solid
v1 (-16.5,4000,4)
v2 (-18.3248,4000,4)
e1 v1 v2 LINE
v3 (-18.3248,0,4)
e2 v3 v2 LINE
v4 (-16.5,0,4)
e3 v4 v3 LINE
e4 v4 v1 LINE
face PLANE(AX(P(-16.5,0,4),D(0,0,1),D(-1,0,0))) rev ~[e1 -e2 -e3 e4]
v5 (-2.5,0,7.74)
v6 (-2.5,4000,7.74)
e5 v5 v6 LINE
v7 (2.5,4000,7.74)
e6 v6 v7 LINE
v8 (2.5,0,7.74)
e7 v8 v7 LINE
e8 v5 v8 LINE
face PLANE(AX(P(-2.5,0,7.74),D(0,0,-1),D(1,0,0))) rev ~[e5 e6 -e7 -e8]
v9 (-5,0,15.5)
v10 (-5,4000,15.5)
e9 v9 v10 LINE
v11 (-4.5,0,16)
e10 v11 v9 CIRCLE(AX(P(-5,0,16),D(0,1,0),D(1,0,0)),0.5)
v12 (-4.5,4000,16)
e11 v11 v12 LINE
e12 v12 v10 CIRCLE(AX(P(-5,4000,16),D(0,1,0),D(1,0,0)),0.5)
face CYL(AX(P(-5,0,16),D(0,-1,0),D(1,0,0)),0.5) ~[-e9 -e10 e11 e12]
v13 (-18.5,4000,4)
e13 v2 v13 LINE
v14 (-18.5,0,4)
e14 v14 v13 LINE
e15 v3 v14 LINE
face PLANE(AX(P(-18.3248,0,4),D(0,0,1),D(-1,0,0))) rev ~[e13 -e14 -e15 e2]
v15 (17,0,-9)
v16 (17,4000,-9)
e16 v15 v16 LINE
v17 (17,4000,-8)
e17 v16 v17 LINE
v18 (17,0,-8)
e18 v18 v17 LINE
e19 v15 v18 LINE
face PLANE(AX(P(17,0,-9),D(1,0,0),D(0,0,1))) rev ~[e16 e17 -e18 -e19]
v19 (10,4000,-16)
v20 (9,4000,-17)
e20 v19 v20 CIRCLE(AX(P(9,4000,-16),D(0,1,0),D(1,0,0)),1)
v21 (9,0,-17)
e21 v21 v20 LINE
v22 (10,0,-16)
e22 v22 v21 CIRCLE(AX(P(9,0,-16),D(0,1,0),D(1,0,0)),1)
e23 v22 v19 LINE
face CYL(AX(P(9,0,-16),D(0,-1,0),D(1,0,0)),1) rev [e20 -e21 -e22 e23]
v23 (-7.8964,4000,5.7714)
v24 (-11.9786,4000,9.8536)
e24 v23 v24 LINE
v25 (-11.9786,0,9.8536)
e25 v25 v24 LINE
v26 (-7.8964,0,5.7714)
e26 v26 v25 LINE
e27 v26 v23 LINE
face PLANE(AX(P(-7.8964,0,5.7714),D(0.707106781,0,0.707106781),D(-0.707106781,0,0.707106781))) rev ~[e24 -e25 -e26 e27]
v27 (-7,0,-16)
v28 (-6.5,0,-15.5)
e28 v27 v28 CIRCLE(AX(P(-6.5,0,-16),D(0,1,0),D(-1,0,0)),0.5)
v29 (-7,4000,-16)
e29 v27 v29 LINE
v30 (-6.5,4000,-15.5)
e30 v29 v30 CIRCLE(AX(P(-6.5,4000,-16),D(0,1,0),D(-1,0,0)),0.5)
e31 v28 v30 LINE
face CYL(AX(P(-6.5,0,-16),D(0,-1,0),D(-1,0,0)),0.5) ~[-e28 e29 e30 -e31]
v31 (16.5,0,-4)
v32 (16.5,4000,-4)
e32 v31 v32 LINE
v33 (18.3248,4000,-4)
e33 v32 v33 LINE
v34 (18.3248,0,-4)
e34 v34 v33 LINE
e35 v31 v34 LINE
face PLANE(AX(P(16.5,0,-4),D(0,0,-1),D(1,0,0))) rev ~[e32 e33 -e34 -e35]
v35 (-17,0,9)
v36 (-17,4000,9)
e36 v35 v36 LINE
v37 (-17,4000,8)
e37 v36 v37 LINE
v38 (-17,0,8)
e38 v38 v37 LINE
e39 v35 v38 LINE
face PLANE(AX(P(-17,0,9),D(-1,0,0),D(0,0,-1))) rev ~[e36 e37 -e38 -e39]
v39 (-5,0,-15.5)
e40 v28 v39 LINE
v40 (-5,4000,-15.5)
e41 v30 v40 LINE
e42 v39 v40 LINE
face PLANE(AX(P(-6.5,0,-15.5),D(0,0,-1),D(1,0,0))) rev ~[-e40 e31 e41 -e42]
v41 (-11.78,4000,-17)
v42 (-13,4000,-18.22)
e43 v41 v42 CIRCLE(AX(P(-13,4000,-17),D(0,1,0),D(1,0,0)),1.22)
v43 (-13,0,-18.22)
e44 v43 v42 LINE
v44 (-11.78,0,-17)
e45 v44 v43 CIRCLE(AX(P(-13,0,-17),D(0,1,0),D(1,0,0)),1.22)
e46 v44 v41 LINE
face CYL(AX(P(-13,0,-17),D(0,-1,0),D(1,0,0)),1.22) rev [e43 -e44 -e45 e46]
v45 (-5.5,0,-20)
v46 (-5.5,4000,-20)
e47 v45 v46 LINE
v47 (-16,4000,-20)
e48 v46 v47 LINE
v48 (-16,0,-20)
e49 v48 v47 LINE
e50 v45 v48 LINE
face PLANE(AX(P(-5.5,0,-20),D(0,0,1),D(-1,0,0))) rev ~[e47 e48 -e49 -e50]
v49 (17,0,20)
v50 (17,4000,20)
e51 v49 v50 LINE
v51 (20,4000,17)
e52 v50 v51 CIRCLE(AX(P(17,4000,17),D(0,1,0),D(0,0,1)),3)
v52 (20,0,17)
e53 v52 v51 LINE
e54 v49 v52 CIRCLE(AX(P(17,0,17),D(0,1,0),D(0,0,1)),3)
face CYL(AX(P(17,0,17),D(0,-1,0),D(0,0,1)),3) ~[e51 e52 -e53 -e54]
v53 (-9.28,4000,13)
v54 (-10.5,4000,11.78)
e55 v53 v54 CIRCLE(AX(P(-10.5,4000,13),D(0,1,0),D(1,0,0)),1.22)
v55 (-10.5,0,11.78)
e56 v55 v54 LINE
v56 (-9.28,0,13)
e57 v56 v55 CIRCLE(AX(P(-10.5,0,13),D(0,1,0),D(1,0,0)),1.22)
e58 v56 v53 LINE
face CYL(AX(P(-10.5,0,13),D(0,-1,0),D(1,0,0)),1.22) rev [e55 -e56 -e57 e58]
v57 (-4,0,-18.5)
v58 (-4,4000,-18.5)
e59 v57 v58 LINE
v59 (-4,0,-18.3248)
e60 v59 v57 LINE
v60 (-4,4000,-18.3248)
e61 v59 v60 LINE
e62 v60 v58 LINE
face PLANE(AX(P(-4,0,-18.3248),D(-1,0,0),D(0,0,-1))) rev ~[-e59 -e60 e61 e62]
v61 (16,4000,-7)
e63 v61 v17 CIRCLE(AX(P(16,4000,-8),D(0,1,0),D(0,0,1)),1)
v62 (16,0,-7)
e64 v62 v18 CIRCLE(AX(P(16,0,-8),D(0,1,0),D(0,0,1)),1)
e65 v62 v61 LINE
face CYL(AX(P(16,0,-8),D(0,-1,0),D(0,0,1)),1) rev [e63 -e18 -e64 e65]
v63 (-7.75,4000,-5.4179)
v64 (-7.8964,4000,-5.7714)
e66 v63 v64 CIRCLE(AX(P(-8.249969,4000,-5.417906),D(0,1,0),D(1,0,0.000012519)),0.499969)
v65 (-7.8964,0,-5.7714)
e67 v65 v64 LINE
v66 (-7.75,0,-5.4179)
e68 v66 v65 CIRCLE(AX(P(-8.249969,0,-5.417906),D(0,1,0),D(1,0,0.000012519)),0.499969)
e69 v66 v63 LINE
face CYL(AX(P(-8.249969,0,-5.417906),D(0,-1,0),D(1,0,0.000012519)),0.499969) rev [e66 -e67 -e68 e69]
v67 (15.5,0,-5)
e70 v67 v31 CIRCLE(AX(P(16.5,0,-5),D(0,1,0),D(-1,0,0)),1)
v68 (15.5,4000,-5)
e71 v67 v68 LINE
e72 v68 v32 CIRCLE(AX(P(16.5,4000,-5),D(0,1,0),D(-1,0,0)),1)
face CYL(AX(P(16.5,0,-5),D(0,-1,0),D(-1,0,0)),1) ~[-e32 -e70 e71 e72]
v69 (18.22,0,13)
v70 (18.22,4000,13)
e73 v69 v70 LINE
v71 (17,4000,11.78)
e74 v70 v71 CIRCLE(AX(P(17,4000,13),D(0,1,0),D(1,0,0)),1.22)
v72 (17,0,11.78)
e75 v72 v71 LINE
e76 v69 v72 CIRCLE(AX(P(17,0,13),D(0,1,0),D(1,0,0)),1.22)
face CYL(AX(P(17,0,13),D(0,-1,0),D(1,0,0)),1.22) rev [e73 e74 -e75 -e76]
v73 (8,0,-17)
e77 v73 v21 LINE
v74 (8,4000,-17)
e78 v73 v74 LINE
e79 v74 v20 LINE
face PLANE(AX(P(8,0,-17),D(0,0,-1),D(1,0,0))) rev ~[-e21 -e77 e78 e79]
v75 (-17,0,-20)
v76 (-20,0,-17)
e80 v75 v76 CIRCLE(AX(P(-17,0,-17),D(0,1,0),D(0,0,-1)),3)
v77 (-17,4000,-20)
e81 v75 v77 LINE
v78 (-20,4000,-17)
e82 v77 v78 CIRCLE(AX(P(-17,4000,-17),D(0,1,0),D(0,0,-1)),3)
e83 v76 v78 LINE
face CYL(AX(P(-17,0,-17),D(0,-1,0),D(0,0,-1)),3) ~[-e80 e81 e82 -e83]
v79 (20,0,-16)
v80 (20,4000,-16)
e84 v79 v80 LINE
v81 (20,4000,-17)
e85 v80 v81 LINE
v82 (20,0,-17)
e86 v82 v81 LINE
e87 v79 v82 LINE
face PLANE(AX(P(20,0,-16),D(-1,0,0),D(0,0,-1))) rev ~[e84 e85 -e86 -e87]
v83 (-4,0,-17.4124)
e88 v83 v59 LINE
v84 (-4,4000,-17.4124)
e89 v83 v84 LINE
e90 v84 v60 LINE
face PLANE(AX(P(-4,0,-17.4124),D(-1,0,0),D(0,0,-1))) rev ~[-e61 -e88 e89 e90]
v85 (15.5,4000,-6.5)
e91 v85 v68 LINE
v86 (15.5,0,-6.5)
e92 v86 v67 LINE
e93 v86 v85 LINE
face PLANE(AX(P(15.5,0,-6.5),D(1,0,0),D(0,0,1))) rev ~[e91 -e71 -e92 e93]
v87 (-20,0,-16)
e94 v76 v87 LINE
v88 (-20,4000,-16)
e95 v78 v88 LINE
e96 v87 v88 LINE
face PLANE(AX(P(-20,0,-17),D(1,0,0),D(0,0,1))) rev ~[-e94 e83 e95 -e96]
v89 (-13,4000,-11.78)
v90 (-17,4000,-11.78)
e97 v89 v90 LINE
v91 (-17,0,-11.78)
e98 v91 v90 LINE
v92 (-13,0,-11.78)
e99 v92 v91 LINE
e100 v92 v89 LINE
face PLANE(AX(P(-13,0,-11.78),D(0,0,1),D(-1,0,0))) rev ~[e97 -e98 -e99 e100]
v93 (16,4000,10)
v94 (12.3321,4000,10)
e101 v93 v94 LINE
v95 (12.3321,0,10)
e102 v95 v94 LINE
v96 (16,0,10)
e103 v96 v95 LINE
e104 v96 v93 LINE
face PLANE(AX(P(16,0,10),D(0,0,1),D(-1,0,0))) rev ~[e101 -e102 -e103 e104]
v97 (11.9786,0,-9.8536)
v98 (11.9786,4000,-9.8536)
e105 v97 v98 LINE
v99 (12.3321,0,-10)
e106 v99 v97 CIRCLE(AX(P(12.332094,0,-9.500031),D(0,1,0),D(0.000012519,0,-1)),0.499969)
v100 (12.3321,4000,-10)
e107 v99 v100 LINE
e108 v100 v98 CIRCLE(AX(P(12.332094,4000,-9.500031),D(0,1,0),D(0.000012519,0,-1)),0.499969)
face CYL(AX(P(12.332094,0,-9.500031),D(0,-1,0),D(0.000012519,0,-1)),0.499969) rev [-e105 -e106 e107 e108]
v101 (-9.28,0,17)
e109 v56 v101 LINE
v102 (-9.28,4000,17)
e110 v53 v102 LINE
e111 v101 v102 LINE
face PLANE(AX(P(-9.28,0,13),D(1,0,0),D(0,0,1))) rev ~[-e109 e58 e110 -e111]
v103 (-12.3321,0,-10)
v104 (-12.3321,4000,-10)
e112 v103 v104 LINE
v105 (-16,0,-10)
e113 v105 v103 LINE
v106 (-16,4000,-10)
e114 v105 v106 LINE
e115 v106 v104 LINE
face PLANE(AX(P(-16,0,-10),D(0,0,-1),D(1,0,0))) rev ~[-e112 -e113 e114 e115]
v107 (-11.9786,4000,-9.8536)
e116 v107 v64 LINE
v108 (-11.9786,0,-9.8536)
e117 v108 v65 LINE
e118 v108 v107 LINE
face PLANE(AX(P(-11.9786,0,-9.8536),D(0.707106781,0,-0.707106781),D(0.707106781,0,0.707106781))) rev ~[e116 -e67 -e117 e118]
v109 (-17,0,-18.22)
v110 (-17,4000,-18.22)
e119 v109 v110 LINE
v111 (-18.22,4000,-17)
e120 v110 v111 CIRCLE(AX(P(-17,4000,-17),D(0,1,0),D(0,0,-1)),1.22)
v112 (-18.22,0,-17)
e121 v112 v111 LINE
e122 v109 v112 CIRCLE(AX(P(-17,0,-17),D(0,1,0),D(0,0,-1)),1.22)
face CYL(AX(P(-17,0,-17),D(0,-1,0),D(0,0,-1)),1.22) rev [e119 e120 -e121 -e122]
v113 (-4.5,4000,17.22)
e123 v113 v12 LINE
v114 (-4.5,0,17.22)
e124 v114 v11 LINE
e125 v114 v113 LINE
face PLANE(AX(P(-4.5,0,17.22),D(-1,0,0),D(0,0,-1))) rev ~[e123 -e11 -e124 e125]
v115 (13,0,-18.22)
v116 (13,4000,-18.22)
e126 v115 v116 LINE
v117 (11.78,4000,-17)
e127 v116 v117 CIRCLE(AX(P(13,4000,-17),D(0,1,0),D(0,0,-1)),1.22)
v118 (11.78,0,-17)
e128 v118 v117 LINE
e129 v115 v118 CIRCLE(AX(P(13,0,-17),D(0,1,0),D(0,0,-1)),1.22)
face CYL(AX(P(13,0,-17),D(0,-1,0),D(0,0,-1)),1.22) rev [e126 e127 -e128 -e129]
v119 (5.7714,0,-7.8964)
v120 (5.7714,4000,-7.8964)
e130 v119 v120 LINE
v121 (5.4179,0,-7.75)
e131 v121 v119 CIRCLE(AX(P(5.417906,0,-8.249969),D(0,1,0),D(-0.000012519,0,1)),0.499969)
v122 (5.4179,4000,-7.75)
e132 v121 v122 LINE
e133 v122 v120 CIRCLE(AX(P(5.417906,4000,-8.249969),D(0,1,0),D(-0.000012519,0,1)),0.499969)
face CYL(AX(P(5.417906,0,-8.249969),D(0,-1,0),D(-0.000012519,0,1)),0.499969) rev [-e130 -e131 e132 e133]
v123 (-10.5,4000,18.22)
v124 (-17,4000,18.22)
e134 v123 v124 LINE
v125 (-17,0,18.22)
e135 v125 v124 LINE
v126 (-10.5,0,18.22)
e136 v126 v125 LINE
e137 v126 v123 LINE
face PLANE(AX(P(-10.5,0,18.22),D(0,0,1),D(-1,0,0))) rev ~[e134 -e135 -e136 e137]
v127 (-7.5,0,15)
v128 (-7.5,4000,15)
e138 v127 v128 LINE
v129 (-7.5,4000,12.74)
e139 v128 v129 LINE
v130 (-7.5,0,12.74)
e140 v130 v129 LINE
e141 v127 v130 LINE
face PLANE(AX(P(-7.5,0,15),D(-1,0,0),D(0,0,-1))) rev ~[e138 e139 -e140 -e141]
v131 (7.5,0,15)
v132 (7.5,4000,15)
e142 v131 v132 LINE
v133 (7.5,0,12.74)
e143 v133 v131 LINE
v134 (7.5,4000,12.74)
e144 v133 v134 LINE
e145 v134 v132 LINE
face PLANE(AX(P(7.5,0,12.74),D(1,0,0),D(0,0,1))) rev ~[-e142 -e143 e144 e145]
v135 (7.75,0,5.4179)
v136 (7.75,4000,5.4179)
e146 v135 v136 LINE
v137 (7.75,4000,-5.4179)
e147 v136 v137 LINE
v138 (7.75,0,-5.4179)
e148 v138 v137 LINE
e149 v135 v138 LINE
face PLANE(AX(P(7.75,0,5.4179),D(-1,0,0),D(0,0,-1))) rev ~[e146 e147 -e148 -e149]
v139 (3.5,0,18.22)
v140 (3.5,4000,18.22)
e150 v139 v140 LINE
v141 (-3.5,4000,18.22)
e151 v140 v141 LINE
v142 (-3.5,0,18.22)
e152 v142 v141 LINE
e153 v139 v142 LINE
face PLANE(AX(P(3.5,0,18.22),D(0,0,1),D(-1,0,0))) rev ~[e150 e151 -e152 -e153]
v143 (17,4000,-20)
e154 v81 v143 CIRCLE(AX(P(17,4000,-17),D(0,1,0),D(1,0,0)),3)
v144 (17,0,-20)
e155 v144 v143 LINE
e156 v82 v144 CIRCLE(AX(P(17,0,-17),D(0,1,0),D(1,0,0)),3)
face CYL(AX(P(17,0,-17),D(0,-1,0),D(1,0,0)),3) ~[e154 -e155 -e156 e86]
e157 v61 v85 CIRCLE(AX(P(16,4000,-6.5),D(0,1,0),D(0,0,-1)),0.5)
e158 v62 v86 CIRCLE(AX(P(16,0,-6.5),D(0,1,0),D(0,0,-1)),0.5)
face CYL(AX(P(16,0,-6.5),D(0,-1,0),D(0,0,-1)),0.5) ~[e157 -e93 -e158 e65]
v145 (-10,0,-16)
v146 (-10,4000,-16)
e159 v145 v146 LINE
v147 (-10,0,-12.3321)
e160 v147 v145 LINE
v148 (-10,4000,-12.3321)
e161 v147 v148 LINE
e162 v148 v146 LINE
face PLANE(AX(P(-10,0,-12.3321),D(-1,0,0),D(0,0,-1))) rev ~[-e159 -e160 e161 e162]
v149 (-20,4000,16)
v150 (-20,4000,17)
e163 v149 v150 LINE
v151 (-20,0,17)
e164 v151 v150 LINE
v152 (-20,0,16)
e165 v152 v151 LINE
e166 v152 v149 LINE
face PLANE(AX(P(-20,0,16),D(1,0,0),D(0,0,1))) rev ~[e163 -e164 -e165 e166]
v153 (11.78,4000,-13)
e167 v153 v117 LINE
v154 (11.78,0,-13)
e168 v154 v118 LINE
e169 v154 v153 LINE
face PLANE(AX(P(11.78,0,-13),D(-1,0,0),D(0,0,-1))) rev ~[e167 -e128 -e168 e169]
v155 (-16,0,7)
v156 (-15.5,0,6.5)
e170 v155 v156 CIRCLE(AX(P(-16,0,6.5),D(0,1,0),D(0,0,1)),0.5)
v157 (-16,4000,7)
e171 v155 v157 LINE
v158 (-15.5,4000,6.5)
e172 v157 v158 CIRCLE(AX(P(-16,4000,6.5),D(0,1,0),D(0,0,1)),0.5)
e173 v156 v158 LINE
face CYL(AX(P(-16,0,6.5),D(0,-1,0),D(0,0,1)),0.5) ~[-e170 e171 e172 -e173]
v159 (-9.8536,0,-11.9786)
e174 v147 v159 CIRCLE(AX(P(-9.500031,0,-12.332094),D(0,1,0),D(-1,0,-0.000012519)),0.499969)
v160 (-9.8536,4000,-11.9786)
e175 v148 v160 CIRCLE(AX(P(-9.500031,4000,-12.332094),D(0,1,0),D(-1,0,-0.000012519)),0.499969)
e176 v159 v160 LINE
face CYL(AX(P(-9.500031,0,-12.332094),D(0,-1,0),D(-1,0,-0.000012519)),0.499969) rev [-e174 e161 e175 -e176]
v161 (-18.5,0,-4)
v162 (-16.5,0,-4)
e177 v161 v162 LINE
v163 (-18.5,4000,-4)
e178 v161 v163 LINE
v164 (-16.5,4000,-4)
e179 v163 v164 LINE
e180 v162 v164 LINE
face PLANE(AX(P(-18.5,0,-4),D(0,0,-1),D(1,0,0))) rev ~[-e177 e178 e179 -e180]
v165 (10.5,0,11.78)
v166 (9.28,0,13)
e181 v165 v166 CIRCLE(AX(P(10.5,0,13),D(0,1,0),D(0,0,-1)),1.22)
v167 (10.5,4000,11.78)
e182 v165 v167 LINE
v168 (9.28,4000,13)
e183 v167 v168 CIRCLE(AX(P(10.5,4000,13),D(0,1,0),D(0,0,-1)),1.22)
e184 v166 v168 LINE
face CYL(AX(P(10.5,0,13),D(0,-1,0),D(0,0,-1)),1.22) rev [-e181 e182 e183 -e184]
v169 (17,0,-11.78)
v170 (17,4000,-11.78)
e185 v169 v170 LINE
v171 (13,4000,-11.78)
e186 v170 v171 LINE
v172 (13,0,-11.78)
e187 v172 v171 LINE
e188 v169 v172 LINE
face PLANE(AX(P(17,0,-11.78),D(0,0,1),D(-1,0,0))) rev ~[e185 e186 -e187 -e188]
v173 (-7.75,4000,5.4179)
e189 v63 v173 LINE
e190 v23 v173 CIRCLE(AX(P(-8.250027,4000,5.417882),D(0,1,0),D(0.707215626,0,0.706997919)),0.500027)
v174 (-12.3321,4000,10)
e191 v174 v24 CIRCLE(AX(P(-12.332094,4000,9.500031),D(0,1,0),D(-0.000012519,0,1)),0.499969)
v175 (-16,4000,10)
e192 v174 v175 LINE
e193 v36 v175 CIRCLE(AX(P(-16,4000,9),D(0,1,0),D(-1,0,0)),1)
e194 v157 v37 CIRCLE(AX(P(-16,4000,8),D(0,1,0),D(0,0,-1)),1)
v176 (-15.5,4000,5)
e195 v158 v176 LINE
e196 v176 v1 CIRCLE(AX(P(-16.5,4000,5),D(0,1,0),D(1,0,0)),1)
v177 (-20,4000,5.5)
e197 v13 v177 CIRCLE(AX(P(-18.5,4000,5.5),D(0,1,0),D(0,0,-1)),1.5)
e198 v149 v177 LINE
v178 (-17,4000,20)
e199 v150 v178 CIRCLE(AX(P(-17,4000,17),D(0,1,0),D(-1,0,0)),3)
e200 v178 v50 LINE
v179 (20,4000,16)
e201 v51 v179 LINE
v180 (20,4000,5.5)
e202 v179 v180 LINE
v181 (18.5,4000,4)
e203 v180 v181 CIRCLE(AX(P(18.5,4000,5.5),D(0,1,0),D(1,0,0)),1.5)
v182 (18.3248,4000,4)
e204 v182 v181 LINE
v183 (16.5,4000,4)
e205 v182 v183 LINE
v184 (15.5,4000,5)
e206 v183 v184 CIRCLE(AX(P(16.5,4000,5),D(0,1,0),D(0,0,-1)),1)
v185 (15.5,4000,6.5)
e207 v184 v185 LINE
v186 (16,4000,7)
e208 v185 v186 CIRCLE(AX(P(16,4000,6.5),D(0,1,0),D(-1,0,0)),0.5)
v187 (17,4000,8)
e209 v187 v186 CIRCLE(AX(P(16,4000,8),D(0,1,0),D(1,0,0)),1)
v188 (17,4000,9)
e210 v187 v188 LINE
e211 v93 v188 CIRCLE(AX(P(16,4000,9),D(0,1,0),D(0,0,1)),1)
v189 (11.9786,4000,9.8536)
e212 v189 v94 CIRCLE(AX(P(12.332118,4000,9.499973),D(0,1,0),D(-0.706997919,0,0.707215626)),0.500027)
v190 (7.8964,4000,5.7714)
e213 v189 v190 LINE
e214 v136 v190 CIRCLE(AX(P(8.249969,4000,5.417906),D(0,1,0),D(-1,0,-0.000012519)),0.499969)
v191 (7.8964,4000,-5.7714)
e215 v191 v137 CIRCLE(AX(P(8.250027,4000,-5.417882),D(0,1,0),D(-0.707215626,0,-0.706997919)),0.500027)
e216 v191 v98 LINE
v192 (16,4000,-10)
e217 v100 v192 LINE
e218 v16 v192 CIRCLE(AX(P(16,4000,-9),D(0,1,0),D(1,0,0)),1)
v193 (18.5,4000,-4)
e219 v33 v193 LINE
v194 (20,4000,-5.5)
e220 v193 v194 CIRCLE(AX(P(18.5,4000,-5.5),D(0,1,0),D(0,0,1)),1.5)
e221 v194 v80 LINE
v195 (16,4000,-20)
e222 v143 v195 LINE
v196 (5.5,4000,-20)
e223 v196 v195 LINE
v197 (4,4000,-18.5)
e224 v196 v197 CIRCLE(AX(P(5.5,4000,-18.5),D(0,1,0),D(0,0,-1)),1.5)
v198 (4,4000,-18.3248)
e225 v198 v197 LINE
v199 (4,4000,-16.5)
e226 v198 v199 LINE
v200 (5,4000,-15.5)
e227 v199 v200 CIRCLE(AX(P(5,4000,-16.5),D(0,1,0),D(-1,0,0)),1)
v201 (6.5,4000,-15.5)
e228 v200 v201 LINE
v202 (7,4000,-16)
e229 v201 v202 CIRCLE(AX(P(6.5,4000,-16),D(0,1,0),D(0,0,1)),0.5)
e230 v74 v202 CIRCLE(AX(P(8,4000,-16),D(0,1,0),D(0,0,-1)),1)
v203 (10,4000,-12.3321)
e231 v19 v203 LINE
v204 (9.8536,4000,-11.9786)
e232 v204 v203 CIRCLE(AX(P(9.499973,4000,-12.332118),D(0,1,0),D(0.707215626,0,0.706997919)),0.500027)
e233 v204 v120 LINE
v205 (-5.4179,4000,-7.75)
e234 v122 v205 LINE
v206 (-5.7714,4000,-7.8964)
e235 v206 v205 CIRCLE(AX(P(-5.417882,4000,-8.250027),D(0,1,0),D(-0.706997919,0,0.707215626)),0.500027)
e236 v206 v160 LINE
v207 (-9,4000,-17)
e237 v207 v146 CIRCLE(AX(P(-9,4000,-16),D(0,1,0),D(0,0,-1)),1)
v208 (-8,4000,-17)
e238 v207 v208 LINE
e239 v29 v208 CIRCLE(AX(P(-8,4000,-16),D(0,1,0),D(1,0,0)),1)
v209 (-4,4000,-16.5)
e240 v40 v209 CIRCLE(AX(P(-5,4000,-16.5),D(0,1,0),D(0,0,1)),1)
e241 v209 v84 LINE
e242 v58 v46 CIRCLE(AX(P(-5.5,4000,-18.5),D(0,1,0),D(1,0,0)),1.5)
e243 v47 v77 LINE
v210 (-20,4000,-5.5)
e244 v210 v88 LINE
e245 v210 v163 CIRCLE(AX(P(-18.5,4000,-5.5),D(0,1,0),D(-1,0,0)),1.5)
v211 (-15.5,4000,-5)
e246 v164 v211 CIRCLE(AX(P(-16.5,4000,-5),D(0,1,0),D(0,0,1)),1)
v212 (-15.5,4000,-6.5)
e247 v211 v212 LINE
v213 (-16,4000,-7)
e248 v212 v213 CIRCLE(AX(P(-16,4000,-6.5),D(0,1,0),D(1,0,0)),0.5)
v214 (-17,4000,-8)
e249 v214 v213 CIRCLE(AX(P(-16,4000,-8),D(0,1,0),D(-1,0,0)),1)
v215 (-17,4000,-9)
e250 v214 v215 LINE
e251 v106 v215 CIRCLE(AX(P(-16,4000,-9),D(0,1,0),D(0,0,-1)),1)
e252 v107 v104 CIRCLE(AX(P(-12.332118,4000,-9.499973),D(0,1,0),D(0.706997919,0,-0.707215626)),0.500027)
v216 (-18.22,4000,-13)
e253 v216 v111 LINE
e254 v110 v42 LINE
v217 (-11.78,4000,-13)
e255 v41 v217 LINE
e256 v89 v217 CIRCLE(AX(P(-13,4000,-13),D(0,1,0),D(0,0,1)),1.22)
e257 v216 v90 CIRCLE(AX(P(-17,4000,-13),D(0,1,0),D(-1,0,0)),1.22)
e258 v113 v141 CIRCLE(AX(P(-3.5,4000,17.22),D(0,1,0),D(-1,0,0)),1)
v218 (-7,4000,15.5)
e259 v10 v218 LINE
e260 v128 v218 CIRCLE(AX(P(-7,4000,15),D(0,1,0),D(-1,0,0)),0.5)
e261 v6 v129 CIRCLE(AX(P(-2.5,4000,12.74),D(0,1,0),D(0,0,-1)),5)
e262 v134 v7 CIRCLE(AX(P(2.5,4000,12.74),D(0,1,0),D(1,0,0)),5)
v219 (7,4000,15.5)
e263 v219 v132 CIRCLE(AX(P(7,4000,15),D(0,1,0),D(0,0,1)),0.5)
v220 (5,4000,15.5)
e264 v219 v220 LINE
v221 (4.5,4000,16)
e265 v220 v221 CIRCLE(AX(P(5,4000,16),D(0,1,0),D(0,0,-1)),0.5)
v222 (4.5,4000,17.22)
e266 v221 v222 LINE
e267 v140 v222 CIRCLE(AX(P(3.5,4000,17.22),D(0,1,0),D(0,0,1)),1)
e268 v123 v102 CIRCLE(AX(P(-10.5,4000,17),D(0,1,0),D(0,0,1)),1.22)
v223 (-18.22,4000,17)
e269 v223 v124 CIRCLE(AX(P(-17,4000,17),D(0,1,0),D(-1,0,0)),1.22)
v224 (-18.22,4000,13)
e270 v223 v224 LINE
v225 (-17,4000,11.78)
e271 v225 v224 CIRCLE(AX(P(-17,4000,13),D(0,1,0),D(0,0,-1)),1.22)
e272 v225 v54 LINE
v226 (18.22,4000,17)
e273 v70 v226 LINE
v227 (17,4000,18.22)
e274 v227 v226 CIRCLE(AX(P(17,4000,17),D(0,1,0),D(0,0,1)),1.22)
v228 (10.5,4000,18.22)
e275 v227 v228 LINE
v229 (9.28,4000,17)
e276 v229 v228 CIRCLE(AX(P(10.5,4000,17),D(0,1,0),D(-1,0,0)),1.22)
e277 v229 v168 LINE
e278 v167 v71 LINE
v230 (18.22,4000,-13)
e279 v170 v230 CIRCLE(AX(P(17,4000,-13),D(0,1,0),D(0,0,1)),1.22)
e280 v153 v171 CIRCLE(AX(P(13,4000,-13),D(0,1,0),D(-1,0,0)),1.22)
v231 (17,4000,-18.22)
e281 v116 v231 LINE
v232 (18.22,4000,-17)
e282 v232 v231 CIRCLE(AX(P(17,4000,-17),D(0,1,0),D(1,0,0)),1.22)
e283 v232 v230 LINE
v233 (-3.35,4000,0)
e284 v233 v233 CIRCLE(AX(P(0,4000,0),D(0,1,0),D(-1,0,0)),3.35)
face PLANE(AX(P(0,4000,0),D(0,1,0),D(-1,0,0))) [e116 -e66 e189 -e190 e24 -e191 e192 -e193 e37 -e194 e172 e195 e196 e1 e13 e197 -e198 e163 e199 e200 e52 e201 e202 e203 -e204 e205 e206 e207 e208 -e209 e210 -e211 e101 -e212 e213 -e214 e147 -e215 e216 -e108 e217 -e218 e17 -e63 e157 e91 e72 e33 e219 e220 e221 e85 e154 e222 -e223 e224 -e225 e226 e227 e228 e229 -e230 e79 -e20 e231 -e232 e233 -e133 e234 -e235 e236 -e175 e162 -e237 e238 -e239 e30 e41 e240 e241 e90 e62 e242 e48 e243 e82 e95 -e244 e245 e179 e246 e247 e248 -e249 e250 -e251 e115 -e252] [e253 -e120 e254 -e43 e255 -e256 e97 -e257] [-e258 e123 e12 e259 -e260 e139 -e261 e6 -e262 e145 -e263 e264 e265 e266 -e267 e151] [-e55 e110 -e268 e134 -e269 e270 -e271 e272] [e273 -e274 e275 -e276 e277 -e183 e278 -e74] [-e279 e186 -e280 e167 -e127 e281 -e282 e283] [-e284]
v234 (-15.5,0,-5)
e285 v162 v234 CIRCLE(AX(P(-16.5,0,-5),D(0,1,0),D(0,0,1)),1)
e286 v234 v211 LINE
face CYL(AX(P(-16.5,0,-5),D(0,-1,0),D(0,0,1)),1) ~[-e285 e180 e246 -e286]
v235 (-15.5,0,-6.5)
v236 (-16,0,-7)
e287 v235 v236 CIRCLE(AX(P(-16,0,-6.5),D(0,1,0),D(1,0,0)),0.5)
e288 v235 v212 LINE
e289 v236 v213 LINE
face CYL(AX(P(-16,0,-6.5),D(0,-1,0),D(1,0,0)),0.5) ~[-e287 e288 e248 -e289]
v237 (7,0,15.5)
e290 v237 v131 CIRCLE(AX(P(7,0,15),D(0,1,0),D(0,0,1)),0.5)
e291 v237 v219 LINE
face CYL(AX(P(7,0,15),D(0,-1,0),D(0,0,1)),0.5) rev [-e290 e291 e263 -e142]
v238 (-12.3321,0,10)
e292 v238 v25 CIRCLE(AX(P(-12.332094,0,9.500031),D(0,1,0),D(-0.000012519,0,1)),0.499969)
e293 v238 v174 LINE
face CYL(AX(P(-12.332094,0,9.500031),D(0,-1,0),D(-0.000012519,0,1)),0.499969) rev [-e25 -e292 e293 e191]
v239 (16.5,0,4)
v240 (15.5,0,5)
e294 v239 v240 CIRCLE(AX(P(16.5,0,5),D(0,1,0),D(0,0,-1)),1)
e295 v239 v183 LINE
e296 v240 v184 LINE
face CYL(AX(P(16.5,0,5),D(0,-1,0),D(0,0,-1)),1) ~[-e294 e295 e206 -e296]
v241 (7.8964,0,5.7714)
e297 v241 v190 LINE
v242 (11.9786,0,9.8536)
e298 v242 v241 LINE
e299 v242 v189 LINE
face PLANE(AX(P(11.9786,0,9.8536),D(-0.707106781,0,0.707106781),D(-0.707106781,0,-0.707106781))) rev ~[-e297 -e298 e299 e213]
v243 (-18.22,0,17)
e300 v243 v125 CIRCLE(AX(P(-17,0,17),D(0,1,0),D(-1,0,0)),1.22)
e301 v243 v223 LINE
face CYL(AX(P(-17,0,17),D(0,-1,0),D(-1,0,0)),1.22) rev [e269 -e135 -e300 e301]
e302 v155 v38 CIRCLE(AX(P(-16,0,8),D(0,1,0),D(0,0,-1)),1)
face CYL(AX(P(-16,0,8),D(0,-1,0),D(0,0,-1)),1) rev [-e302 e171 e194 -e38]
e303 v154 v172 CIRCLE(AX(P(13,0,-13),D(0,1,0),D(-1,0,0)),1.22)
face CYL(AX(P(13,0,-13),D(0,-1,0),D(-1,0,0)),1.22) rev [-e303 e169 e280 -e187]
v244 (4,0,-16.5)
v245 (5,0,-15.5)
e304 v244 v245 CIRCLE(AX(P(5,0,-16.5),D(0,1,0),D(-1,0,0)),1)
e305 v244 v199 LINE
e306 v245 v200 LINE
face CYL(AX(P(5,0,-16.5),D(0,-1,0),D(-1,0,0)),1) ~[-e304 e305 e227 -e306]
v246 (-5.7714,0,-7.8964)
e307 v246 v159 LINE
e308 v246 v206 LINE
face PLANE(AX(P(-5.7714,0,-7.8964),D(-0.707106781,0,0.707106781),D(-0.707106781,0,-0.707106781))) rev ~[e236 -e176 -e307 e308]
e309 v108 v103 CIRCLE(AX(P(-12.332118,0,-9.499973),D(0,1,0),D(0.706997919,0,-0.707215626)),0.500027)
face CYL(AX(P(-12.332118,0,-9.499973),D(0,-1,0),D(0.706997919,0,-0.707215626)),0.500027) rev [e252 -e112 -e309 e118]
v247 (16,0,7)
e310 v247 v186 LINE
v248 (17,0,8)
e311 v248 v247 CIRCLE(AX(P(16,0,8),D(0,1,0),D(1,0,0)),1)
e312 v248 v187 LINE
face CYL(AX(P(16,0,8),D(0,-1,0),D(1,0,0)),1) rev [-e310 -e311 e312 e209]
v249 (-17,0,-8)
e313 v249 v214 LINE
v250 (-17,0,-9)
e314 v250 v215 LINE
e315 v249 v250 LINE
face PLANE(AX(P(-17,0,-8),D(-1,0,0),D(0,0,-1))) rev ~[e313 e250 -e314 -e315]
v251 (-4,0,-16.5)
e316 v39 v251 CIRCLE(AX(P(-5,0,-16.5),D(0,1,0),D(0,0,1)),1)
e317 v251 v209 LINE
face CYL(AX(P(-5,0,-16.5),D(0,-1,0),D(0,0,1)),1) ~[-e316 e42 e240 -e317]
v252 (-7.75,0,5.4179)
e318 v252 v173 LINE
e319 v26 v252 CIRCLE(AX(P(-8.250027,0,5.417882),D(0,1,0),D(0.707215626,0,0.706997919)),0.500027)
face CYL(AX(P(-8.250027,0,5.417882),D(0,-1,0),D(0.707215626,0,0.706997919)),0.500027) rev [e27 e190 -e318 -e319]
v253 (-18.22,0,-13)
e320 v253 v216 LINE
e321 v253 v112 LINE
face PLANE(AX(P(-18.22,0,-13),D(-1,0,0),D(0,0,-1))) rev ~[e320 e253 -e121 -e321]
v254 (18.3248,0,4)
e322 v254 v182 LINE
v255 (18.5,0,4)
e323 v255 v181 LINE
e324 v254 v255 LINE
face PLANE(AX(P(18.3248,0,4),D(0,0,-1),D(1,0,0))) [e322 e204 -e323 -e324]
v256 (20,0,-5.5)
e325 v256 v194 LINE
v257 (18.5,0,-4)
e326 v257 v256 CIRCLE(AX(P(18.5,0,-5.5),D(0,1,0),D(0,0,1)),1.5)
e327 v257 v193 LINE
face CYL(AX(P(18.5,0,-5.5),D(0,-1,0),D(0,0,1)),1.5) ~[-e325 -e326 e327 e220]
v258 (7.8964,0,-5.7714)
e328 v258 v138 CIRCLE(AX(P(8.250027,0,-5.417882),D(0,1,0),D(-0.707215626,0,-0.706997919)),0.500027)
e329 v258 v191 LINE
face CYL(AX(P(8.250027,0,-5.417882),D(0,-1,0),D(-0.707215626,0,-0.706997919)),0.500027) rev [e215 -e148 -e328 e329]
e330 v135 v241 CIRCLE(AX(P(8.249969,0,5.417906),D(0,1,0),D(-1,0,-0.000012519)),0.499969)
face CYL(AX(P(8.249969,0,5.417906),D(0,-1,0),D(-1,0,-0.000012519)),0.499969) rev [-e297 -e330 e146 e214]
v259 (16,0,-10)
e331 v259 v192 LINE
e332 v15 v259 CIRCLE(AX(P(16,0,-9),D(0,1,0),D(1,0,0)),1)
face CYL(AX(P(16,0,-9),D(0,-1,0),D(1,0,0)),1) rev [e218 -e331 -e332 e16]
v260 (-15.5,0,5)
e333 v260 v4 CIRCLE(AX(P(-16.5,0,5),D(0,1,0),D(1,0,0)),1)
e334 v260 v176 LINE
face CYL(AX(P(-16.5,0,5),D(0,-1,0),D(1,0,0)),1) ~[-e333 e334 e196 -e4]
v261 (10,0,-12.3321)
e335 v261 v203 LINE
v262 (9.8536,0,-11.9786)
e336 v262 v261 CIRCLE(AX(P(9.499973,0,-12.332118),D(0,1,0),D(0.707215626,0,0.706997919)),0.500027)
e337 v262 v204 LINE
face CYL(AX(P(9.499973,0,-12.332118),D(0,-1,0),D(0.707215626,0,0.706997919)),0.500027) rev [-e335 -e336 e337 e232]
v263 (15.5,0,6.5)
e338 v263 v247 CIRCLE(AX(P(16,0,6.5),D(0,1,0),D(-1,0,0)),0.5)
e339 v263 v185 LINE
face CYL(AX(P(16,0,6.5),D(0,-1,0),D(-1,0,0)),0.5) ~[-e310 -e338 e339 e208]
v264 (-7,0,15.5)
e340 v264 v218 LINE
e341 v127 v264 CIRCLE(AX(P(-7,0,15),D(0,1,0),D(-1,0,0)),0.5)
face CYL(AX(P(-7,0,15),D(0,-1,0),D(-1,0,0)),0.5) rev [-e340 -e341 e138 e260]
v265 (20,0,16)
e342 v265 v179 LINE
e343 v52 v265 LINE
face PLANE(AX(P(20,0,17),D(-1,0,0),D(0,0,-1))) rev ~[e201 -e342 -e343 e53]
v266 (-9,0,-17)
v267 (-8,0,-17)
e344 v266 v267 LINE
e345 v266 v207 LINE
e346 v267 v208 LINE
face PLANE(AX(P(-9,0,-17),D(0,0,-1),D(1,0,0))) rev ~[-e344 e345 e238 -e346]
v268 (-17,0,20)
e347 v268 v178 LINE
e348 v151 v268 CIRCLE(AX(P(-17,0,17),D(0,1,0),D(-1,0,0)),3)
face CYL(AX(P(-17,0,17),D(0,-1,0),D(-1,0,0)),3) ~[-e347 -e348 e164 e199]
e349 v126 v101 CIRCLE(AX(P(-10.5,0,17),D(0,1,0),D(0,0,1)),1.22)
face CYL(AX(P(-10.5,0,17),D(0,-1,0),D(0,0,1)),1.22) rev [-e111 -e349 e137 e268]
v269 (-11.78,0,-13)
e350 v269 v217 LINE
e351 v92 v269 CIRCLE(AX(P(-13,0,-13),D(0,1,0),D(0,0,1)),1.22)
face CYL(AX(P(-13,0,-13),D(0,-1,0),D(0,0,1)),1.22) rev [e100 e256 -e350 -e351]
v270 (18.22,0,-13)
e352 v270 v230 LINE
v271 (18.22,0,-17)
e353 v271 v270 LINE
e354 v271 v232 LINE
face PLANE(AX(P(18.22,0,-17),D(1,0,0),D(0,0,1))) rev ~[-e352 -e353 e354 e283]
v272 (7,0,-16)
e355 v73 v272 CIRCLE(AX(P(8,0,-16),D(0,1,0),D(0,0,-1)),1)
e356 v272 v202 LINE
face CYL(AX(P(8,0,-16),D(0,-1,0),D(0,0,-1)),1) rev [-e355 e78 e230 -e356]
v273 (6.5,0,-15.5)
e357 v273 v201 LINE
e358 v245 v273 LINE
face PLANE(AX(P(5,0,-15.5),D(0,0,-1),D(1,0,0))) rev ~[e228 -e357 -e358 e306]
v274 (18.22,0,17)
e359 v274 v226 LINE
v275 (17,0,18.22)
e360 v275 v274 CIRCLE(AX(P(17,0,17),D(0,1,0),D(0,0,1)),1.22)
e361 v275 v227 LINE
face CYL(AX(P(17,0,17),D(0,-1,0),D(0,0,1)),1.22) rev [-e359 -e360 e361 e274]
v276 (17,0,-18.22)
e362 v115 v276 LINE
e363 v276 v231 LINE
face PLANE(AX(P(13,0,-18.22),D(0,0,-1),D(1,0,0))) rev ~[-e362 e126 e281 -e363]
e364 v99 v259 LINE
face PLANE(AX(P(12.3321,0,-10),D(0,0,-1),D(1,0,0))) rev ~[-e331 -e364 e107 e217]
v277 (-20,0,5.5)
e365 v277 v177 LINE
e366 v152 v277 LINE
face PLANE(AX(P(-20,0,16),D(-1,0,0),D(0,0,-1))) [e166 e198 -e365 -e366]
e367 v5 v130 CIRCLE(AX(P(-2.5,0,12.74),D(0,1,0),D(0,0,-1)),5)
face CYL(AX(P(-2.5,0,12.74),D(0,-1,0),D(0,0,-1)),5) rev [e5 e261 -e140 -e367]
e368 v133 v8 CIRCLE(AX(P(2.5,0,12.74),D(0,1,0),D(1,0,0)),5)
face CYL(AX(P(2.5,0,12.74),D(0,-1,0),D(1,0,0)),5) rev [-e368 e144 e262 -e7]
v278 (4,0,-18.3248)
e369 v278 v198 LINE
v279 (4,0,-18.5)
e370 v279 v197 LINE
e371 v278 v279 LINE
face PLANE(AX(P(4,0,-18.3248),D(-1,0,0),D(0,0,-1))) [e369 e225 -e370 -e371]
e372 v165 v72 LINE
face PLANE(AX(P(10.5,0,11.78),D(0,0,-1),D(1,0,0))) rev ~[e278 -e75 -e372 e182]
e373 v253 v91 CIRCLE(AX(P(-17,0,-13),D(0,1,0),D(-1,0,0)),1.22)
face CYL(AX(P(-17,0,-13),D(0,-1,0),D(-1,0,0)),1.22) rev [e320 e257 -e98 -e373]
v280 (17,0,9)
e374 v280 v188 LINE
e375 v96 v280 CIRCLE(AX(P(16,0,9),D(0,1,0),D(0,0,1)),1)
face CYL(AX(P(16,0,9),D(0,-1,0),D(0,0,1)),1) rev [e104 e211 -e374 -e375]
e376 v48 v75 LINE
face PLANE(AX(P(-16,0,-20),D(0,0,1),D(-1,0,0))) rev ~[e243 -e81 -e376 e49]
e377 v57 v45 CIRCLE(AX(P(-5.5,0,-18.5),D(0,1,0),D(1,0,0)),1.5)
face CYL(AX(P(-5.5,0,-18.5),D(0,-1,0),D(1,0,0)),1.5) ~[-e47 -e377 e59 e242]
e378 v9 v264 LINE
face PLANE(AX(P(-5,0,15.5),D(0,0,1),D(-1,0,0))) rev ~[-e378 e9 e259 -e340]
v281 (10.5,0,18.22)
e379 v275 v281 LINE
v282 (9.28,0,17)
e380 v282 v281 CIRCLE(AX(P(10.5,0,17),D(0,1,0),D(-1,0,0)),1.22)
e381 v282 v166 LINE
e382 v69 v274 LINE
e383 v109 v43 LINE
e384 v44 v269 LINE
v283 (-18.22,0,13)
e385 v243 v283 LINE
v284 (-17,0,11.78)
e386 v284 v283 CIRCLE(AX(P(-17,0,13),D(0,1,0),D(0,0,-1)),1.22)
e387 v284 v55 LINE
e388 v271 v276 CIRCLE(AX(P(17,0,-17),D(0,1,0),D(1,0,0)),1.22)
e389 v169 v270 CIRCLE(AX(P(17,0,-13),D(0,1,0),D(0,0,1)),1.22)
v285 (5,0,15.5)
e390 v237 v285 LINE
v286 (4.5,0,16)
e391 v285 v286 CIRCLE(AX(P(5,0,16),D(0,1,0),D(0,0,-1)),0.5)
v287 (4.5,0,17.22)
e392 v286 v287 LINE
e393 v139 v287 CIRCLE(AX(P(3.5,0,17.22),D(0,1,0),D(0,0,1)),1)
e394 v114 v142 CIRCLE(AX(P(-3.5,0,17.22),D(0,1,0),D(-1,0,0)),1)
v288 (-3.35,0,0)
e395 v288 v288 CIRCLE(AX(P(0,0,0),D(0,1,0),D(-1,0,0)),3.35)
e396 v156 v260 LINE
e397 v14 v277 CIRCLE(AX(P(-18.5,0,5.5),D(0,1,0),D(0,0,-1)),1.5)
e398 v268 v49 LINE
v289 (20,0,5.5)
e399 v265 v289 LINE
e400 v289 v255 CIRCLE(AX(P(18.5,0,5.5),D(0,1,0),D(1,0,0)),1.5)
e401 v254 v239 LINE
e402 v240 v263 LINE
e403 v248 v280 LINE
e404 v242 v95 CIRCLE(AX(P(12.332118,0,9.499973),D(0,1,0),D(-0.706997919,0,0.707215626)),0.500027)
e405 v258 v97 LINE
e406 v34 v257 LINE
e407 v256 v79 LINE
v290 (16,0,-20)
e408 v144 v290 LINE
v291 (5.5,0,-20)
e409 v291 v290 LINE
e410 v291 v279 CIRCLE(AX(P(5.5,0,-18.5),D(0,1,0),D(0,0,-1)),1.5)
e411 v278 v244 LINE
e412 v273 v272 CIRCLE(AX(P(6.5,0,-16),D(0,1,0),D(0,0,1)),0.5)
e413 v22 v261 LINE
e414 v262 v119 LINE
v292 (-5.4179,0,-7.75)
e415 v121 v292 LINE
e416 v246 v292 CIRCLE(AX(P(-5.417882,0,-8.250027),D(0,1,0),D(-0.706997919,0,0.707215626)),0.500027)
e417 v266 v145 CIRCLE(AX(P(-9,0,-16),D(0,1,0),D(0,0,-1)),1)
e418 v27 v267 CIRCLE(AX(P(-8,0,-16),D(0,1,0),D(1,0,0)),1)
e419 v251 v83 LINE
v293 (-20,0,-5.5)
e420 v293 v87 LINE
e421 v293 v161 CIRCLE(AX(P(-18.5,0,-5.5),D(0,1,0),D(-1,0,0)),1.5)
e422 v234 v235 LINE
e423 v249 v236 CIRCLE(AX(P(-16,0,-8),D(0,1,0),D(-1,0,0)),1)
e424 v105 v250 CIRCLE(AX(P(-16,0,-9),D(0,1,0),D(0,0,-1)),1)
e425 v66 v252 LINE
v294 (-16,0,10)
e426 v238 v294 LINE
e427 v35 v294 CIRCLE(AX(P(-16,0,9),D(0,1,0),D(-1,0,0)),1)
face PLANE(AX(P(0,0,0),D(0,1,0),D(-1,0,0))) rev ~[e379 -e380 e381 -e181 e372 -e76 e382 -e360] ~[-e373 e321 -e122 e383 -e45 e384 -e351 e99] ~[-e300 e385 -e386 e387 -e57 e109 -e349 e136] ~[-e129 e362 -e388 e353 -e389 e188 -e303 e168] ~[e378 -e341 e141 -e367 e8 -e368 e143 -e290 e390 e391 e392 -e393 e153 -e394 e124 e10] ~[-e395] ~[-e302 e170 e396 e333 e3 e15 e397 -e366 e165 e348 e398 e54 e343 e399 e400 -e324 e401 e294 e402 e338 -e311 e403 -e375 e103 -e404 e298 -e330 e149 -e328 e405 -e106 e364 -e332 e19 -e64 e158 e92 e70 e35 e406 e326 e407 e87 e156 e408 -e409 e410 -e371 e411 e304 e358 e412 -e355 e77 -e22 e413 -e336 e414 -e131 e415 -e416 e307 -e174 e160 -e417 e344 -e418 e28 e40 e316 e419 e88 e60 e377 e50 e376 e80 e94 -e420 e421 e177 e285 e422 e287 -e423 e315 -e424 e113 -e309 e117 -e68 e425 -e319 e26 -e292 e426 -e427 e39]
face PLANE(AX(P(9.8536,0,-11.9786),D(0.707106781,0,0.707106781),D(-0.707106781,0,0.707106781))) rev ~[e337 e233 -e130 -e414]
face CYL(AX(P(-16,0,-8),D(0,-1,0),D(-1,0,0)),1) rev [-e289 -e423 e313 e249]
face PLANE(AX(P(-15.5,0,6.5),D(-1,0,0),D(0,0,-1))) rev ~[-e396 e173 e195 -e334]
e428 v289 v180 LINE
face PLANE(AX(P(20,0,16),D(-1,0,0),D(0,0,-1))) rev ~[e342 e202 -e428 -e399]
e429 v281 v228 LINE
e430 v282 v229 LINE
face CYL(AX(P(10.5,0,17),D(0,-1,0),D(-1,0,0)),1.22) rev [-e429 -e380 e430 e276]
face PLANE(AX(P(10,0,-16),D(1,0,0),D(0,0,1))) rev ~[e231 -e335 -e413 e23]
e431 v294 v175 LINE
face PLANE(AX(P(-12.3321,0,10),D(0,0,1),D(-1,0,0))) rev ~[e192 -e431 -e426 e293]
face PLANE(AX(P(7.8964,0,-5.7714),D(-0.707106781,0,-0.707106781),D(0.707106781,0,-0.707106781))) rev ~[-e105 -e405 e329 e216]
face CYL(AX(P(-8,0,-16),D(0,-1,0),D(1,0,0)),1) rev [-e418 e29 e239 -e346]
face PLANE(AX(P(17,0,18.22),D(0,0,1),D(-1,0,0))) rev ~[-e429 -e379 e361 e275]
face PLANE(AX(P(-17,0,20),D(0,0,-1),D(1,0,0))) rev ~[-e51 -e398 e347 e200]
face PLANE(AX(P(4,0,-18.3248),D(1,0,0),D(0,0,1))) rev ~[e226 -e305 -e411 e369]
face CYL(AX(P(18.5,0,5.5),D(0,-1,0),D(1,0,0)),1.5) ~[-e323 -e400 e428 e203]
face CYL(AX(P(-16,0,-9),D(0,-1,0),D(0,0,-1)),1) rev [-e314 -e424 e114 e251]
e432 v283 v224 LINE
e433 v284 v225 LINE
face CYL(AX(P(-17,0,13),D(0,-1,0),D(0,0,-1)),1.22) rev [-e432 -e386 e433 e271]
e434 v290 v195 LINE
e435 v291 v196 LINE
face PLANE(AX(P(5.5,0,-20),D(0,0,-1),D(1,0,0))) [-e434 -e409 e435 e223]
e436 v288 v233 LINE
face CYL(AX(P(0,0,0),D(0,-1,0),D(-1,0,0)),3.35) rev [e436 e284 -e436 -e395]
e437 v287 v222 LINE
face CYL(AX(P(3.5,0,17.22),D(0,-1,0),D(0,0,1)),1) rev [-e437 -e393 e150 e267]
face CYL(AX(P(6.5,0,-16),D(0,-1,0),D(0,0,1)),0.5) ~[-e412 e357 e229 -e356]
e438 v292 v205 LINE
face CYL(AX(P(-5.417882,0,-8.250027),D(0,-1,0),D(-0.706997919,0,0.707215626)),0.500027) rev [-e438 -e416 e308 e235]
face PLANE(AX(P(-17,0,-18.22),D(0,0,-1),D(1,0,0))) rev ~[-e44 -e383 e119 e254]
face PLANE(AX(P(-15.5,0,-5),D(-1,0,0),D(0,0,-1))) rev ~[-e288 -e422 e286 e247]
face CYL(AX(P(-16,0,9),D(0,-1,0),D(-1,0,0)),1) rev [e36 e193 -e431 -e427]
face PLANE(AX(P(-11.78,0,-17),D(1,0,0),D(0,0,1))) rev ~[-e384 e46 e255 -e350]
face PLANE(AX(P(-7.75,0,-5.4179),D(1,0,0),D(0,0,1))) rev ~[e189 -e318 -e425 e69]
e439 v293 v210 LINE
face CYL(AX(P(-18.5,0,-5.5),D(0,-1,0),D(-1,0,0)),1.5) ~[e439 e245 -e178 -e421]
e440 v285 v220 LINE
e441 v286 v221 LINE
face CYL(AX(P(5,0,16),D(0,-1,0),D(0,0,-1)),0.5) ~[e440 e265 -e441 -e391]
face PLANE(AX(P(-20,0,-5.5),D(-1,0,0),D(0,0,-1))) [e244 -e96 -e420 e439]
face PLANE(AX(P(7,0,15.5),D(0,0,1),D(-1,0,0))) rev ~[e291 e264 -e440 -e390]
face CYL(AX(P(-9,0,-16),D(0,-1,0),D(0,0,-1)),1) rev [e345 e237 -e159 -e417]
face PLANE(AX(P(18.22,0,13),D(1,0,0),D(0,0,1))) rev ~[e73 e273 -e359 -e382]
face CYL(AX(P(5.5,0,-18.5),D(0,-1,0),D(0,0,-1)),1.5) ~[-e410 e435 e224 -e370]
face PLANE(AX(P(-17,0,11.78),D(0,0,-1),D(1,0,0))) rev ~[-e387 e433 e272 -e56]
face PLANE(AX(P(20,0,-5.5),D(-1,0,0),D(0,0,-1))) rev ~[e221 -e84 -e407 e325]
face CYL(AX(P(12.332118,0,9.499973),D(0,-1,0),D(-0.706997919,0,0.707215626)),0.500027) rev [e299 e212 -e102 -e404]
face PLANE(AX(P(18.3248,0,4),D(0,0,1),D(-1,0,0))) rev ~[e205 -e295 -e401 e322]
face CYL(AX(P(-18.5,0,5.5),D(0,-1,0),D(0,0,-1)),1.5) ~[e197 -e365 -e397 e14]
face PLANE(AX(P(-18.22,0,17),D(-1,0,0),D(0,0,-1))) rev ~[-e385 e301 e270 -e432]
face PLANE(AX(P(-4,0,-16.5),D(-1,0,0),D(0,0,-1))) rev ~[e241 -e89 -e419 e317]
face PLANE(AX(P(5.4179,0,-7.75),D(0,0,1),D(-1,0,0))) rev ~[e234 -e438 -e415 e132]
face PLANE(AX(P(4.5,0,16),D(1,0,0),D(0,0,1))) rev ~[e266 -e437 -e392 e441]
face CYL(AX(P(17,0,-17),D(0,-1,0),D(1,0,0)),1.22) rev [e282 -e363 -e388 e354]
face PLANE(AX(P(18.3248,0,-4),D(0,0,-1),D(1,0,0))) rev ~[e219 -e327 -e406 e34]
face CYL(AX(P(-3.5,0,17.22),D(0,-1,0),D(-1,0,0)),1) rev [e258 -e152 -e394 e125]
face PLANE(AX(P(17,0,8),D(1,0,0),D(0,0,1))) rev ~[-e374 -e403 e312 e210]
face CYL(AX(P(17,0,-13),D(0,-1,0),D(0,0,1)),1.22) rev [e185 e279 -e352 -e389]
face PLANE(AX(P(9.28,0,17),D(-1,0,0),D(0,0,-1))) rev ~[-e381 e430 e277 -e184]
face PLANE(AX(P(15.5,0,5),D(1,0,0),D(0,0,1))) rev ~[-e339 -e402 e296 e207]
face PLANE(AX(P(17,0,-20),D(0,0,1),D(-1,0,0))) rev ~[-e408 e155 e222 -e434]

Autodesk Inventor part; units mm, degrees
ref_plane "YZ Plane" through (0, 0, 0) normal (1, 0, 0) x (0, 1, 0)
ref_plane "Start Plane" through (0, 0, 0) normal (0, 1, 0) x (-1, 0, 0)
ref_plane "End Plane" through (0, 100, 0) normal (0, 1, 0) x (-1, 0, 0)
sketch "Sketch1" plane through (0, 0, 0) normal (0, 1, 0) x (-1, 0, 0)
  arc A0 (20, 17) -> (17, 20) centre (17, 17) ccw
  line L0 (17, 20) -> (-17, 20)
  arc A1 (-17, 20) -> (-20, 17) centre (-17, 17) ccw
  line L1 (-20, 17) -> (-20, 16)
  line L2 (-18.3248, 4) -> (-16.5, 4)
  arc A2 (-16.5, 4) -> (-15.5, 5) centre (-16.5, 5) ccw
  line L3 (-15.5, 5) -> (-15.5, 6.5)
  arc A3 (-15.5, 6.5) -> (-16, 7) centre (-16, 6.5) ccw
  arc A4 (-17, 8) -> (-16, 7) centre (-16, 8) ccw
  line L4 (-17, 8) -> (-17, 9)
  arc A5 (-16, 10) -> (-17, 9) centre (-16, 9) ccw
  line L5 (-16, 10) -> (-12.3321, 10)
  arc A6 (-11.9786, 9.8536) -> (-12.3321, 10) centre (-12.3321, 9.5) ccw
  line L6 (-11.9786, 9.8536) -> (-7.8964, 5.7714)
  arc A7 (-7.75, 5.4179) -> (-7.8964, 5.7714) centre (-8.25, 5.4179) ccw
  line L7 (-7.75, 5.4179) -> (-7.75, -5.4179)
  arc A8 (-7.8964, -5.7714) -> (-7.75, -5.4179) centre (-8.25, -5.4179) ccw
  line L8 (-7.8964, -5.7714) -> (-11.9786, -9.8536)
  arc A9 (-12.3321, -10) -> (-11.9786, -9.8536) centre (-12.3321, -9.5) ccw
  line L9 (-12.3321, -10) -> (-16, -10)
  arc A10 (-17, -9) -> (-16, -10) centre (-16, -9) ccw
  line L10 (-17, -9) -> (-17, -8)
  arc A11 (-16, -7) -> (-17, -8) centre (-16, -8) ccw
  arc A12 (-16, -7) -> (-15.5, -6.5) centre (-16, -6.5) ccw
  line L11 (-15.5, -6.5) -> (-15.5, -5)
  arc A13 (-15.5, -5) -> (-16.5, -4) centre (-16.5, -5) ccw
  line L12 (-16.5, -4) -> (-18.3248, -4)
  line L13 (-20, -16) -> (-20, -17)
  line L14 (-17, -20) -> (-16, -20)
  arc A14 (-20, -17) -> (-17, -20) centre (-17, -17) ccw
  line L15 (-4, -18.3248) -> (-4, -16.5)
  arc A15 (-4, -16.5) -> (-5, -15.5) centre (-5, -16.5) ccw
  line L16 (-5, -15.5) -> (-6.5, -15.5)
  arc A16 (-6.5, -15.5) -> (-7, -16) centre (-6.5, -16) ccw
  arc A17 (-8, -17) -> (-7, -16) centre (-8, -16) ccw
  line L17 (-8, -17) -> (-9, -17)
  arc A18 (-10, -16) -> (-9, -17) centre (-9, -16) ccw
  line L18 (-10, -16) -> (-10, -12.3321)
  arc A19 (-9.8536, -11.9786) -> (-10, -12.3321) centre (-9.5, -12.3321) ccw
  line L19 (-9.8536, -11.9786) -> (-5.7714, -7.8964)
  arc A20 (-5.4179, -7.75) -> (-5.7714, -7.8964) centre (-5.4179, -8.25) ccw
  line L20 (-5.4179, -7.75) -> (5.4179, -7.75)
  arc A21 (5.7714, -7.8964) -> (5.4179, -7.75) centre (5.4179, -8.25) ccw
  line L21 (5.7714, -7.8964) -> (9.8536, -11.9786)
  arc A22 (10, -12.3321) -> (9.8536, -11.9786) centre (9.5, -12.3321) ccw
  line L22 (10, -12.3321) -> (10, -16)
  arc A23 (9, -17) -> (10, -16) centre (9, -16) ccw
  line L23 (9, -17) -> (8, -17)
  arc A24 (7, -16) -> (8, -17) centre (8, -16) ccw
  arc A25 (7, -16) -> (6.5, -15.5) centre (6.5, -16) ccw
  line L24 (6.5, -15.5) -> (5, -15.5)
  arc A26 (5, -15.5) -> (4, -16.5) centre (5, -16.5) ccw
  line L25 (4, -16.5) -> (4, -18.3248)
  line L26 (16, -20) -> (17, -20)
  line L27 (20, -17) -> (20, -16)
  line L28 (18.5, -4) -> (16.5, -4)
  arc A27 (16.5, -4) -> (15.5, -5) centre (16.5, -5) ccw
  line L29 (15.5, -5) -> (15.5, -6.5)
  arc A28 (15.5, -6.5) -> (16, -7) centre (16, -6.5) ccw
  arc A29 (17, -8) -> (16, -7) centre (16, -8) ccw
  line L30 (17, -8) -> (17, -9)
  arc A30 (16, -10) -> (17, -9) centre (16, -9) ccw
  line L31 (16, -10) -> (12.3321, -10)
  arc A31 (11.9786, -9.8536) -> (12.3321, -10) centre (12.3321, -9.5) ccw
  line L32 (11.9786, -9.8536) -> (7.8964, -5.7714)
  arc A32 (7.75, -5.4179) -> (7.8964, -5.7714) centre (8.25, -5.4179) ccw
  line L33 (7.75, -5.4179) -> (7.75, 5.4179)
  arc A33 (7.8964, 5.7714) -> (7.75, 5.4179) centre (8.25, 5.4179) ccw
  line L34 (7.8964, 5.7714) -> (11.9786, 9.8536)
  arc A34 (12.3321, 10) -> (11.9786, 9.8536) centre (12.3321, 9.5) ccw
  line L35 (12.3321, 10) -> (16, 10)
  arc A35 (17, 9) -> (16, 10) centre (16, 9) ccw
  line L36 (17, 9) -> (17, 8)
  arc A36 (16, 7) -> (17, 8) centre (16, 8) ccw
  arc A37 (16, 7) -> (15.5, 6.5) centre (16, 6.5) ccw
  line L37 (15.5, 6.5) -> (15.5, 5)
  arc A38 (15.5, 5) -> (16.5, 4) centre (16.5, 5) ccw
  line L38 (16.5, 4) -> (18.3248, 4)
  line L39 (20, 16) -> (20, 17)
  arc A39 (-5, 15.5) -> (-4.5, 16) centre (-5, 16) ccw
  line L40 (-4.5, 16) -> (-4.5, 17.22)
  arc A40 (-3.5, 18.22) -> (-4.5, 17.22) centre (-3.5, 17.22) ccw
  line L41 (-3.5, 18.22) -> (3.5, 18.22)
  arc A41 (4.5, 17.22) -> (3.5, 18.22) centre (3.5, 17.22) ccw
  line L42 (4.5, 17.22) -> (4.5, 16)
  arc A42 (4.5, 16) -> (5, 15.5) centre (5, 16) ccw
  line L43 (5, 15.5) -> (7, 15.5)
  arc A43 (7.5, 15) -> (7, 15.5) centre (7, 15) ccw
  line L44 (7.5, 15) -> (7.5, 12.74)
  arc A44 (2.5, 7.74) -> (7.5, 12.74) centre (2.5, 12.74) ccw
  line L45 (2.5, 7.74) -> (-2.5, 7.74)
  arc A45 (-7.5, 12.74) -> (-2.5, 7.74) centre (-2.5, 12.74) ccw
  line L46 (-7.5, 12.74) -> (-7.5, 15)
  arc A46 (-7, 15.5) -> (-7.5, 15) centre (-7, 15) ccw
  line L47 (-7, 15.5) -> (-5, 15.5)
  line L48 (18.22, -13) -> (18.22, -17)
  arc A47 (17, -18.22) -> (18.22, -17) centre (17, -17) ccw
  line L49 (17, -18.22) -> (13, -18.22)
  arc A48 (11.78, -17) -> (13, -18.22) centre (13, -17) ccw
  line L50 (11.78, -17) -> (11.78, -13)
  arc A49 (13, -11.78) -> (11.78, -13) centre (13, -13) ccw
  line L51 (13, -11.78) -> (17, -11.78)
  arc A50 (18.22, -13) -> (17, -11.78) centre (17, -13) ccw
  line L52 (18.22, 17) -> (18.22, 13)
  arc A51 (17, 11.78) -> (18.22, 13) centre (17, 13) ccw
  line L53 (17, 11.78) -> (10.5, 11.78)
  arc A52 (9.28, 13) -> (10.5, 11.78) centre (10.5, 13) ccw
  line L54 (9.28, 13) -> (9.28, 17)
  arc A53 (10.5, 18.22) -> (9.28, 17) centre (10.5, 17) ccw
  line L55 (10.5, 18.22) -> (17, 18.22)
  arc A54 (18.22, 17) -> (17, 18.22) centre (17, 17) ccw
  line L56 (-17, -11.78) -> (-13, -11.78)
  arc A55 (-11.78, -13) -> (-13, -11.78) centre (-13, -13) ccw
  line L57 (-11.78, -13) -> (-11.78, -17)
  arc A56 (-13, -18.22) -> (-11.78, -17) centre (-13, -17) ccw
  line L58 (-13, -18.22) -> (-17, -18.22)
  arc A57 (-18.22, -17) -> (-17, -18.22) centre (-17, -17) ccw
  line L59 (-18.22, -17) -> (-18.22, -13)
  arc A58 (-17, -11.78) -> (-18.22, -13) centre (-17, -13) ccw
  line L60 (-9.28, 17) -> (-9.28, 13)
  arc A59 (-10.5, 11.78) -> (-9.28, 13) centre (-10.5, 13) ccw
  line L61 (-10.5, 11.78) -> (-17, 11.78)
  arc A60 (-18.22, 13) -> (-17, 11.78) centre (-17, 13) ccw
  line L62 (-18.22, 13) -> (-18.22, 17)
  arc A61 (-17, 18.22) -> (-18.22, 17) centre (-17, 17) ccw
  line L63 (-17, 18.22) -> (-10.5, 18.22)
  arc A62 (-9.28, 17) -> (-10.5, 18.22) centre (-10.5, 17) ccw
  circle A63 centre (0, 0) radius 3.35
  line L64 (20, -5.5) -> (20, -17)
  arc A64 (20, -5.5) -> (18.5, -4) centre (18.5, -5.5) ccw
  line L65 (-20, -5.5) -> (-20, -17)
  arc A65 (-18.5, -4) -> (-20, -5.5) centre (-18.5, -5.5) ccw
  line L66 (-16.5, -4) -> (-18.5, -4)
  arc A66 (-5.5, -20) -> (-4, -18.5) centre (-5.5, -18.5) ccw
  line L67 (-4, -16.5) -> (-4, -18.5)
  line L68 (-5.5, -20) -> (-17, -20)
  line L69 (5.5, -20) -> (17, -20)
  arc A67 (4, -18.5) -> (5.5, -20) centre (5.5, -18.5) ccw
  arc A68 (17, -20) -> (20, -17) centre (17, -17) ccw
  line L70 (4, -17.4124) -> (4, -18.5)
  line L71 (20, 17) -> (20, 5.5)
  line L72 (16.5, 4) -> (18.5, 4)
  arc A69 (18.5, 4) -> (20, 5.5) centre (18.5, 5.5) ccw
  line L73 (-20, 17) -> (-20, 5.5)
  line L74 (-16.5, 4) -> (-18.5, 4)
  arc A70 (-20, 5.5) -> (-18.5, 4) centre (-18.5, 5.5) ccw
extrude "Body" add sketch "Sketch1" along normal blind 4000 from surface at 0
sketch "Sketch2" plane through (0, 0, 0) normal (0, 1, 0) x (-1, 0, 0)
  line L0 (0, 0) -> (10, 0)
ref_plane "Work Plane3" through (0, 0, 0) normal (0, 0, -1) x (-1, 0, 0)
sketch "Sketch3" plane through (0, 0, 0) normal (0, 0, -1) x (-1, 0, 0)
  line L0 (-2, 0) -> (12, 0)
  line L1 (-2, 100) -> (12, 100)
  dimension "d7" = 100
equation "\"G_OFFSET_START\" = 0"
equation "\"G_OFFSET_END\" = 0"
equation "\"G_L\" = d7"
properties part number "10-340"
